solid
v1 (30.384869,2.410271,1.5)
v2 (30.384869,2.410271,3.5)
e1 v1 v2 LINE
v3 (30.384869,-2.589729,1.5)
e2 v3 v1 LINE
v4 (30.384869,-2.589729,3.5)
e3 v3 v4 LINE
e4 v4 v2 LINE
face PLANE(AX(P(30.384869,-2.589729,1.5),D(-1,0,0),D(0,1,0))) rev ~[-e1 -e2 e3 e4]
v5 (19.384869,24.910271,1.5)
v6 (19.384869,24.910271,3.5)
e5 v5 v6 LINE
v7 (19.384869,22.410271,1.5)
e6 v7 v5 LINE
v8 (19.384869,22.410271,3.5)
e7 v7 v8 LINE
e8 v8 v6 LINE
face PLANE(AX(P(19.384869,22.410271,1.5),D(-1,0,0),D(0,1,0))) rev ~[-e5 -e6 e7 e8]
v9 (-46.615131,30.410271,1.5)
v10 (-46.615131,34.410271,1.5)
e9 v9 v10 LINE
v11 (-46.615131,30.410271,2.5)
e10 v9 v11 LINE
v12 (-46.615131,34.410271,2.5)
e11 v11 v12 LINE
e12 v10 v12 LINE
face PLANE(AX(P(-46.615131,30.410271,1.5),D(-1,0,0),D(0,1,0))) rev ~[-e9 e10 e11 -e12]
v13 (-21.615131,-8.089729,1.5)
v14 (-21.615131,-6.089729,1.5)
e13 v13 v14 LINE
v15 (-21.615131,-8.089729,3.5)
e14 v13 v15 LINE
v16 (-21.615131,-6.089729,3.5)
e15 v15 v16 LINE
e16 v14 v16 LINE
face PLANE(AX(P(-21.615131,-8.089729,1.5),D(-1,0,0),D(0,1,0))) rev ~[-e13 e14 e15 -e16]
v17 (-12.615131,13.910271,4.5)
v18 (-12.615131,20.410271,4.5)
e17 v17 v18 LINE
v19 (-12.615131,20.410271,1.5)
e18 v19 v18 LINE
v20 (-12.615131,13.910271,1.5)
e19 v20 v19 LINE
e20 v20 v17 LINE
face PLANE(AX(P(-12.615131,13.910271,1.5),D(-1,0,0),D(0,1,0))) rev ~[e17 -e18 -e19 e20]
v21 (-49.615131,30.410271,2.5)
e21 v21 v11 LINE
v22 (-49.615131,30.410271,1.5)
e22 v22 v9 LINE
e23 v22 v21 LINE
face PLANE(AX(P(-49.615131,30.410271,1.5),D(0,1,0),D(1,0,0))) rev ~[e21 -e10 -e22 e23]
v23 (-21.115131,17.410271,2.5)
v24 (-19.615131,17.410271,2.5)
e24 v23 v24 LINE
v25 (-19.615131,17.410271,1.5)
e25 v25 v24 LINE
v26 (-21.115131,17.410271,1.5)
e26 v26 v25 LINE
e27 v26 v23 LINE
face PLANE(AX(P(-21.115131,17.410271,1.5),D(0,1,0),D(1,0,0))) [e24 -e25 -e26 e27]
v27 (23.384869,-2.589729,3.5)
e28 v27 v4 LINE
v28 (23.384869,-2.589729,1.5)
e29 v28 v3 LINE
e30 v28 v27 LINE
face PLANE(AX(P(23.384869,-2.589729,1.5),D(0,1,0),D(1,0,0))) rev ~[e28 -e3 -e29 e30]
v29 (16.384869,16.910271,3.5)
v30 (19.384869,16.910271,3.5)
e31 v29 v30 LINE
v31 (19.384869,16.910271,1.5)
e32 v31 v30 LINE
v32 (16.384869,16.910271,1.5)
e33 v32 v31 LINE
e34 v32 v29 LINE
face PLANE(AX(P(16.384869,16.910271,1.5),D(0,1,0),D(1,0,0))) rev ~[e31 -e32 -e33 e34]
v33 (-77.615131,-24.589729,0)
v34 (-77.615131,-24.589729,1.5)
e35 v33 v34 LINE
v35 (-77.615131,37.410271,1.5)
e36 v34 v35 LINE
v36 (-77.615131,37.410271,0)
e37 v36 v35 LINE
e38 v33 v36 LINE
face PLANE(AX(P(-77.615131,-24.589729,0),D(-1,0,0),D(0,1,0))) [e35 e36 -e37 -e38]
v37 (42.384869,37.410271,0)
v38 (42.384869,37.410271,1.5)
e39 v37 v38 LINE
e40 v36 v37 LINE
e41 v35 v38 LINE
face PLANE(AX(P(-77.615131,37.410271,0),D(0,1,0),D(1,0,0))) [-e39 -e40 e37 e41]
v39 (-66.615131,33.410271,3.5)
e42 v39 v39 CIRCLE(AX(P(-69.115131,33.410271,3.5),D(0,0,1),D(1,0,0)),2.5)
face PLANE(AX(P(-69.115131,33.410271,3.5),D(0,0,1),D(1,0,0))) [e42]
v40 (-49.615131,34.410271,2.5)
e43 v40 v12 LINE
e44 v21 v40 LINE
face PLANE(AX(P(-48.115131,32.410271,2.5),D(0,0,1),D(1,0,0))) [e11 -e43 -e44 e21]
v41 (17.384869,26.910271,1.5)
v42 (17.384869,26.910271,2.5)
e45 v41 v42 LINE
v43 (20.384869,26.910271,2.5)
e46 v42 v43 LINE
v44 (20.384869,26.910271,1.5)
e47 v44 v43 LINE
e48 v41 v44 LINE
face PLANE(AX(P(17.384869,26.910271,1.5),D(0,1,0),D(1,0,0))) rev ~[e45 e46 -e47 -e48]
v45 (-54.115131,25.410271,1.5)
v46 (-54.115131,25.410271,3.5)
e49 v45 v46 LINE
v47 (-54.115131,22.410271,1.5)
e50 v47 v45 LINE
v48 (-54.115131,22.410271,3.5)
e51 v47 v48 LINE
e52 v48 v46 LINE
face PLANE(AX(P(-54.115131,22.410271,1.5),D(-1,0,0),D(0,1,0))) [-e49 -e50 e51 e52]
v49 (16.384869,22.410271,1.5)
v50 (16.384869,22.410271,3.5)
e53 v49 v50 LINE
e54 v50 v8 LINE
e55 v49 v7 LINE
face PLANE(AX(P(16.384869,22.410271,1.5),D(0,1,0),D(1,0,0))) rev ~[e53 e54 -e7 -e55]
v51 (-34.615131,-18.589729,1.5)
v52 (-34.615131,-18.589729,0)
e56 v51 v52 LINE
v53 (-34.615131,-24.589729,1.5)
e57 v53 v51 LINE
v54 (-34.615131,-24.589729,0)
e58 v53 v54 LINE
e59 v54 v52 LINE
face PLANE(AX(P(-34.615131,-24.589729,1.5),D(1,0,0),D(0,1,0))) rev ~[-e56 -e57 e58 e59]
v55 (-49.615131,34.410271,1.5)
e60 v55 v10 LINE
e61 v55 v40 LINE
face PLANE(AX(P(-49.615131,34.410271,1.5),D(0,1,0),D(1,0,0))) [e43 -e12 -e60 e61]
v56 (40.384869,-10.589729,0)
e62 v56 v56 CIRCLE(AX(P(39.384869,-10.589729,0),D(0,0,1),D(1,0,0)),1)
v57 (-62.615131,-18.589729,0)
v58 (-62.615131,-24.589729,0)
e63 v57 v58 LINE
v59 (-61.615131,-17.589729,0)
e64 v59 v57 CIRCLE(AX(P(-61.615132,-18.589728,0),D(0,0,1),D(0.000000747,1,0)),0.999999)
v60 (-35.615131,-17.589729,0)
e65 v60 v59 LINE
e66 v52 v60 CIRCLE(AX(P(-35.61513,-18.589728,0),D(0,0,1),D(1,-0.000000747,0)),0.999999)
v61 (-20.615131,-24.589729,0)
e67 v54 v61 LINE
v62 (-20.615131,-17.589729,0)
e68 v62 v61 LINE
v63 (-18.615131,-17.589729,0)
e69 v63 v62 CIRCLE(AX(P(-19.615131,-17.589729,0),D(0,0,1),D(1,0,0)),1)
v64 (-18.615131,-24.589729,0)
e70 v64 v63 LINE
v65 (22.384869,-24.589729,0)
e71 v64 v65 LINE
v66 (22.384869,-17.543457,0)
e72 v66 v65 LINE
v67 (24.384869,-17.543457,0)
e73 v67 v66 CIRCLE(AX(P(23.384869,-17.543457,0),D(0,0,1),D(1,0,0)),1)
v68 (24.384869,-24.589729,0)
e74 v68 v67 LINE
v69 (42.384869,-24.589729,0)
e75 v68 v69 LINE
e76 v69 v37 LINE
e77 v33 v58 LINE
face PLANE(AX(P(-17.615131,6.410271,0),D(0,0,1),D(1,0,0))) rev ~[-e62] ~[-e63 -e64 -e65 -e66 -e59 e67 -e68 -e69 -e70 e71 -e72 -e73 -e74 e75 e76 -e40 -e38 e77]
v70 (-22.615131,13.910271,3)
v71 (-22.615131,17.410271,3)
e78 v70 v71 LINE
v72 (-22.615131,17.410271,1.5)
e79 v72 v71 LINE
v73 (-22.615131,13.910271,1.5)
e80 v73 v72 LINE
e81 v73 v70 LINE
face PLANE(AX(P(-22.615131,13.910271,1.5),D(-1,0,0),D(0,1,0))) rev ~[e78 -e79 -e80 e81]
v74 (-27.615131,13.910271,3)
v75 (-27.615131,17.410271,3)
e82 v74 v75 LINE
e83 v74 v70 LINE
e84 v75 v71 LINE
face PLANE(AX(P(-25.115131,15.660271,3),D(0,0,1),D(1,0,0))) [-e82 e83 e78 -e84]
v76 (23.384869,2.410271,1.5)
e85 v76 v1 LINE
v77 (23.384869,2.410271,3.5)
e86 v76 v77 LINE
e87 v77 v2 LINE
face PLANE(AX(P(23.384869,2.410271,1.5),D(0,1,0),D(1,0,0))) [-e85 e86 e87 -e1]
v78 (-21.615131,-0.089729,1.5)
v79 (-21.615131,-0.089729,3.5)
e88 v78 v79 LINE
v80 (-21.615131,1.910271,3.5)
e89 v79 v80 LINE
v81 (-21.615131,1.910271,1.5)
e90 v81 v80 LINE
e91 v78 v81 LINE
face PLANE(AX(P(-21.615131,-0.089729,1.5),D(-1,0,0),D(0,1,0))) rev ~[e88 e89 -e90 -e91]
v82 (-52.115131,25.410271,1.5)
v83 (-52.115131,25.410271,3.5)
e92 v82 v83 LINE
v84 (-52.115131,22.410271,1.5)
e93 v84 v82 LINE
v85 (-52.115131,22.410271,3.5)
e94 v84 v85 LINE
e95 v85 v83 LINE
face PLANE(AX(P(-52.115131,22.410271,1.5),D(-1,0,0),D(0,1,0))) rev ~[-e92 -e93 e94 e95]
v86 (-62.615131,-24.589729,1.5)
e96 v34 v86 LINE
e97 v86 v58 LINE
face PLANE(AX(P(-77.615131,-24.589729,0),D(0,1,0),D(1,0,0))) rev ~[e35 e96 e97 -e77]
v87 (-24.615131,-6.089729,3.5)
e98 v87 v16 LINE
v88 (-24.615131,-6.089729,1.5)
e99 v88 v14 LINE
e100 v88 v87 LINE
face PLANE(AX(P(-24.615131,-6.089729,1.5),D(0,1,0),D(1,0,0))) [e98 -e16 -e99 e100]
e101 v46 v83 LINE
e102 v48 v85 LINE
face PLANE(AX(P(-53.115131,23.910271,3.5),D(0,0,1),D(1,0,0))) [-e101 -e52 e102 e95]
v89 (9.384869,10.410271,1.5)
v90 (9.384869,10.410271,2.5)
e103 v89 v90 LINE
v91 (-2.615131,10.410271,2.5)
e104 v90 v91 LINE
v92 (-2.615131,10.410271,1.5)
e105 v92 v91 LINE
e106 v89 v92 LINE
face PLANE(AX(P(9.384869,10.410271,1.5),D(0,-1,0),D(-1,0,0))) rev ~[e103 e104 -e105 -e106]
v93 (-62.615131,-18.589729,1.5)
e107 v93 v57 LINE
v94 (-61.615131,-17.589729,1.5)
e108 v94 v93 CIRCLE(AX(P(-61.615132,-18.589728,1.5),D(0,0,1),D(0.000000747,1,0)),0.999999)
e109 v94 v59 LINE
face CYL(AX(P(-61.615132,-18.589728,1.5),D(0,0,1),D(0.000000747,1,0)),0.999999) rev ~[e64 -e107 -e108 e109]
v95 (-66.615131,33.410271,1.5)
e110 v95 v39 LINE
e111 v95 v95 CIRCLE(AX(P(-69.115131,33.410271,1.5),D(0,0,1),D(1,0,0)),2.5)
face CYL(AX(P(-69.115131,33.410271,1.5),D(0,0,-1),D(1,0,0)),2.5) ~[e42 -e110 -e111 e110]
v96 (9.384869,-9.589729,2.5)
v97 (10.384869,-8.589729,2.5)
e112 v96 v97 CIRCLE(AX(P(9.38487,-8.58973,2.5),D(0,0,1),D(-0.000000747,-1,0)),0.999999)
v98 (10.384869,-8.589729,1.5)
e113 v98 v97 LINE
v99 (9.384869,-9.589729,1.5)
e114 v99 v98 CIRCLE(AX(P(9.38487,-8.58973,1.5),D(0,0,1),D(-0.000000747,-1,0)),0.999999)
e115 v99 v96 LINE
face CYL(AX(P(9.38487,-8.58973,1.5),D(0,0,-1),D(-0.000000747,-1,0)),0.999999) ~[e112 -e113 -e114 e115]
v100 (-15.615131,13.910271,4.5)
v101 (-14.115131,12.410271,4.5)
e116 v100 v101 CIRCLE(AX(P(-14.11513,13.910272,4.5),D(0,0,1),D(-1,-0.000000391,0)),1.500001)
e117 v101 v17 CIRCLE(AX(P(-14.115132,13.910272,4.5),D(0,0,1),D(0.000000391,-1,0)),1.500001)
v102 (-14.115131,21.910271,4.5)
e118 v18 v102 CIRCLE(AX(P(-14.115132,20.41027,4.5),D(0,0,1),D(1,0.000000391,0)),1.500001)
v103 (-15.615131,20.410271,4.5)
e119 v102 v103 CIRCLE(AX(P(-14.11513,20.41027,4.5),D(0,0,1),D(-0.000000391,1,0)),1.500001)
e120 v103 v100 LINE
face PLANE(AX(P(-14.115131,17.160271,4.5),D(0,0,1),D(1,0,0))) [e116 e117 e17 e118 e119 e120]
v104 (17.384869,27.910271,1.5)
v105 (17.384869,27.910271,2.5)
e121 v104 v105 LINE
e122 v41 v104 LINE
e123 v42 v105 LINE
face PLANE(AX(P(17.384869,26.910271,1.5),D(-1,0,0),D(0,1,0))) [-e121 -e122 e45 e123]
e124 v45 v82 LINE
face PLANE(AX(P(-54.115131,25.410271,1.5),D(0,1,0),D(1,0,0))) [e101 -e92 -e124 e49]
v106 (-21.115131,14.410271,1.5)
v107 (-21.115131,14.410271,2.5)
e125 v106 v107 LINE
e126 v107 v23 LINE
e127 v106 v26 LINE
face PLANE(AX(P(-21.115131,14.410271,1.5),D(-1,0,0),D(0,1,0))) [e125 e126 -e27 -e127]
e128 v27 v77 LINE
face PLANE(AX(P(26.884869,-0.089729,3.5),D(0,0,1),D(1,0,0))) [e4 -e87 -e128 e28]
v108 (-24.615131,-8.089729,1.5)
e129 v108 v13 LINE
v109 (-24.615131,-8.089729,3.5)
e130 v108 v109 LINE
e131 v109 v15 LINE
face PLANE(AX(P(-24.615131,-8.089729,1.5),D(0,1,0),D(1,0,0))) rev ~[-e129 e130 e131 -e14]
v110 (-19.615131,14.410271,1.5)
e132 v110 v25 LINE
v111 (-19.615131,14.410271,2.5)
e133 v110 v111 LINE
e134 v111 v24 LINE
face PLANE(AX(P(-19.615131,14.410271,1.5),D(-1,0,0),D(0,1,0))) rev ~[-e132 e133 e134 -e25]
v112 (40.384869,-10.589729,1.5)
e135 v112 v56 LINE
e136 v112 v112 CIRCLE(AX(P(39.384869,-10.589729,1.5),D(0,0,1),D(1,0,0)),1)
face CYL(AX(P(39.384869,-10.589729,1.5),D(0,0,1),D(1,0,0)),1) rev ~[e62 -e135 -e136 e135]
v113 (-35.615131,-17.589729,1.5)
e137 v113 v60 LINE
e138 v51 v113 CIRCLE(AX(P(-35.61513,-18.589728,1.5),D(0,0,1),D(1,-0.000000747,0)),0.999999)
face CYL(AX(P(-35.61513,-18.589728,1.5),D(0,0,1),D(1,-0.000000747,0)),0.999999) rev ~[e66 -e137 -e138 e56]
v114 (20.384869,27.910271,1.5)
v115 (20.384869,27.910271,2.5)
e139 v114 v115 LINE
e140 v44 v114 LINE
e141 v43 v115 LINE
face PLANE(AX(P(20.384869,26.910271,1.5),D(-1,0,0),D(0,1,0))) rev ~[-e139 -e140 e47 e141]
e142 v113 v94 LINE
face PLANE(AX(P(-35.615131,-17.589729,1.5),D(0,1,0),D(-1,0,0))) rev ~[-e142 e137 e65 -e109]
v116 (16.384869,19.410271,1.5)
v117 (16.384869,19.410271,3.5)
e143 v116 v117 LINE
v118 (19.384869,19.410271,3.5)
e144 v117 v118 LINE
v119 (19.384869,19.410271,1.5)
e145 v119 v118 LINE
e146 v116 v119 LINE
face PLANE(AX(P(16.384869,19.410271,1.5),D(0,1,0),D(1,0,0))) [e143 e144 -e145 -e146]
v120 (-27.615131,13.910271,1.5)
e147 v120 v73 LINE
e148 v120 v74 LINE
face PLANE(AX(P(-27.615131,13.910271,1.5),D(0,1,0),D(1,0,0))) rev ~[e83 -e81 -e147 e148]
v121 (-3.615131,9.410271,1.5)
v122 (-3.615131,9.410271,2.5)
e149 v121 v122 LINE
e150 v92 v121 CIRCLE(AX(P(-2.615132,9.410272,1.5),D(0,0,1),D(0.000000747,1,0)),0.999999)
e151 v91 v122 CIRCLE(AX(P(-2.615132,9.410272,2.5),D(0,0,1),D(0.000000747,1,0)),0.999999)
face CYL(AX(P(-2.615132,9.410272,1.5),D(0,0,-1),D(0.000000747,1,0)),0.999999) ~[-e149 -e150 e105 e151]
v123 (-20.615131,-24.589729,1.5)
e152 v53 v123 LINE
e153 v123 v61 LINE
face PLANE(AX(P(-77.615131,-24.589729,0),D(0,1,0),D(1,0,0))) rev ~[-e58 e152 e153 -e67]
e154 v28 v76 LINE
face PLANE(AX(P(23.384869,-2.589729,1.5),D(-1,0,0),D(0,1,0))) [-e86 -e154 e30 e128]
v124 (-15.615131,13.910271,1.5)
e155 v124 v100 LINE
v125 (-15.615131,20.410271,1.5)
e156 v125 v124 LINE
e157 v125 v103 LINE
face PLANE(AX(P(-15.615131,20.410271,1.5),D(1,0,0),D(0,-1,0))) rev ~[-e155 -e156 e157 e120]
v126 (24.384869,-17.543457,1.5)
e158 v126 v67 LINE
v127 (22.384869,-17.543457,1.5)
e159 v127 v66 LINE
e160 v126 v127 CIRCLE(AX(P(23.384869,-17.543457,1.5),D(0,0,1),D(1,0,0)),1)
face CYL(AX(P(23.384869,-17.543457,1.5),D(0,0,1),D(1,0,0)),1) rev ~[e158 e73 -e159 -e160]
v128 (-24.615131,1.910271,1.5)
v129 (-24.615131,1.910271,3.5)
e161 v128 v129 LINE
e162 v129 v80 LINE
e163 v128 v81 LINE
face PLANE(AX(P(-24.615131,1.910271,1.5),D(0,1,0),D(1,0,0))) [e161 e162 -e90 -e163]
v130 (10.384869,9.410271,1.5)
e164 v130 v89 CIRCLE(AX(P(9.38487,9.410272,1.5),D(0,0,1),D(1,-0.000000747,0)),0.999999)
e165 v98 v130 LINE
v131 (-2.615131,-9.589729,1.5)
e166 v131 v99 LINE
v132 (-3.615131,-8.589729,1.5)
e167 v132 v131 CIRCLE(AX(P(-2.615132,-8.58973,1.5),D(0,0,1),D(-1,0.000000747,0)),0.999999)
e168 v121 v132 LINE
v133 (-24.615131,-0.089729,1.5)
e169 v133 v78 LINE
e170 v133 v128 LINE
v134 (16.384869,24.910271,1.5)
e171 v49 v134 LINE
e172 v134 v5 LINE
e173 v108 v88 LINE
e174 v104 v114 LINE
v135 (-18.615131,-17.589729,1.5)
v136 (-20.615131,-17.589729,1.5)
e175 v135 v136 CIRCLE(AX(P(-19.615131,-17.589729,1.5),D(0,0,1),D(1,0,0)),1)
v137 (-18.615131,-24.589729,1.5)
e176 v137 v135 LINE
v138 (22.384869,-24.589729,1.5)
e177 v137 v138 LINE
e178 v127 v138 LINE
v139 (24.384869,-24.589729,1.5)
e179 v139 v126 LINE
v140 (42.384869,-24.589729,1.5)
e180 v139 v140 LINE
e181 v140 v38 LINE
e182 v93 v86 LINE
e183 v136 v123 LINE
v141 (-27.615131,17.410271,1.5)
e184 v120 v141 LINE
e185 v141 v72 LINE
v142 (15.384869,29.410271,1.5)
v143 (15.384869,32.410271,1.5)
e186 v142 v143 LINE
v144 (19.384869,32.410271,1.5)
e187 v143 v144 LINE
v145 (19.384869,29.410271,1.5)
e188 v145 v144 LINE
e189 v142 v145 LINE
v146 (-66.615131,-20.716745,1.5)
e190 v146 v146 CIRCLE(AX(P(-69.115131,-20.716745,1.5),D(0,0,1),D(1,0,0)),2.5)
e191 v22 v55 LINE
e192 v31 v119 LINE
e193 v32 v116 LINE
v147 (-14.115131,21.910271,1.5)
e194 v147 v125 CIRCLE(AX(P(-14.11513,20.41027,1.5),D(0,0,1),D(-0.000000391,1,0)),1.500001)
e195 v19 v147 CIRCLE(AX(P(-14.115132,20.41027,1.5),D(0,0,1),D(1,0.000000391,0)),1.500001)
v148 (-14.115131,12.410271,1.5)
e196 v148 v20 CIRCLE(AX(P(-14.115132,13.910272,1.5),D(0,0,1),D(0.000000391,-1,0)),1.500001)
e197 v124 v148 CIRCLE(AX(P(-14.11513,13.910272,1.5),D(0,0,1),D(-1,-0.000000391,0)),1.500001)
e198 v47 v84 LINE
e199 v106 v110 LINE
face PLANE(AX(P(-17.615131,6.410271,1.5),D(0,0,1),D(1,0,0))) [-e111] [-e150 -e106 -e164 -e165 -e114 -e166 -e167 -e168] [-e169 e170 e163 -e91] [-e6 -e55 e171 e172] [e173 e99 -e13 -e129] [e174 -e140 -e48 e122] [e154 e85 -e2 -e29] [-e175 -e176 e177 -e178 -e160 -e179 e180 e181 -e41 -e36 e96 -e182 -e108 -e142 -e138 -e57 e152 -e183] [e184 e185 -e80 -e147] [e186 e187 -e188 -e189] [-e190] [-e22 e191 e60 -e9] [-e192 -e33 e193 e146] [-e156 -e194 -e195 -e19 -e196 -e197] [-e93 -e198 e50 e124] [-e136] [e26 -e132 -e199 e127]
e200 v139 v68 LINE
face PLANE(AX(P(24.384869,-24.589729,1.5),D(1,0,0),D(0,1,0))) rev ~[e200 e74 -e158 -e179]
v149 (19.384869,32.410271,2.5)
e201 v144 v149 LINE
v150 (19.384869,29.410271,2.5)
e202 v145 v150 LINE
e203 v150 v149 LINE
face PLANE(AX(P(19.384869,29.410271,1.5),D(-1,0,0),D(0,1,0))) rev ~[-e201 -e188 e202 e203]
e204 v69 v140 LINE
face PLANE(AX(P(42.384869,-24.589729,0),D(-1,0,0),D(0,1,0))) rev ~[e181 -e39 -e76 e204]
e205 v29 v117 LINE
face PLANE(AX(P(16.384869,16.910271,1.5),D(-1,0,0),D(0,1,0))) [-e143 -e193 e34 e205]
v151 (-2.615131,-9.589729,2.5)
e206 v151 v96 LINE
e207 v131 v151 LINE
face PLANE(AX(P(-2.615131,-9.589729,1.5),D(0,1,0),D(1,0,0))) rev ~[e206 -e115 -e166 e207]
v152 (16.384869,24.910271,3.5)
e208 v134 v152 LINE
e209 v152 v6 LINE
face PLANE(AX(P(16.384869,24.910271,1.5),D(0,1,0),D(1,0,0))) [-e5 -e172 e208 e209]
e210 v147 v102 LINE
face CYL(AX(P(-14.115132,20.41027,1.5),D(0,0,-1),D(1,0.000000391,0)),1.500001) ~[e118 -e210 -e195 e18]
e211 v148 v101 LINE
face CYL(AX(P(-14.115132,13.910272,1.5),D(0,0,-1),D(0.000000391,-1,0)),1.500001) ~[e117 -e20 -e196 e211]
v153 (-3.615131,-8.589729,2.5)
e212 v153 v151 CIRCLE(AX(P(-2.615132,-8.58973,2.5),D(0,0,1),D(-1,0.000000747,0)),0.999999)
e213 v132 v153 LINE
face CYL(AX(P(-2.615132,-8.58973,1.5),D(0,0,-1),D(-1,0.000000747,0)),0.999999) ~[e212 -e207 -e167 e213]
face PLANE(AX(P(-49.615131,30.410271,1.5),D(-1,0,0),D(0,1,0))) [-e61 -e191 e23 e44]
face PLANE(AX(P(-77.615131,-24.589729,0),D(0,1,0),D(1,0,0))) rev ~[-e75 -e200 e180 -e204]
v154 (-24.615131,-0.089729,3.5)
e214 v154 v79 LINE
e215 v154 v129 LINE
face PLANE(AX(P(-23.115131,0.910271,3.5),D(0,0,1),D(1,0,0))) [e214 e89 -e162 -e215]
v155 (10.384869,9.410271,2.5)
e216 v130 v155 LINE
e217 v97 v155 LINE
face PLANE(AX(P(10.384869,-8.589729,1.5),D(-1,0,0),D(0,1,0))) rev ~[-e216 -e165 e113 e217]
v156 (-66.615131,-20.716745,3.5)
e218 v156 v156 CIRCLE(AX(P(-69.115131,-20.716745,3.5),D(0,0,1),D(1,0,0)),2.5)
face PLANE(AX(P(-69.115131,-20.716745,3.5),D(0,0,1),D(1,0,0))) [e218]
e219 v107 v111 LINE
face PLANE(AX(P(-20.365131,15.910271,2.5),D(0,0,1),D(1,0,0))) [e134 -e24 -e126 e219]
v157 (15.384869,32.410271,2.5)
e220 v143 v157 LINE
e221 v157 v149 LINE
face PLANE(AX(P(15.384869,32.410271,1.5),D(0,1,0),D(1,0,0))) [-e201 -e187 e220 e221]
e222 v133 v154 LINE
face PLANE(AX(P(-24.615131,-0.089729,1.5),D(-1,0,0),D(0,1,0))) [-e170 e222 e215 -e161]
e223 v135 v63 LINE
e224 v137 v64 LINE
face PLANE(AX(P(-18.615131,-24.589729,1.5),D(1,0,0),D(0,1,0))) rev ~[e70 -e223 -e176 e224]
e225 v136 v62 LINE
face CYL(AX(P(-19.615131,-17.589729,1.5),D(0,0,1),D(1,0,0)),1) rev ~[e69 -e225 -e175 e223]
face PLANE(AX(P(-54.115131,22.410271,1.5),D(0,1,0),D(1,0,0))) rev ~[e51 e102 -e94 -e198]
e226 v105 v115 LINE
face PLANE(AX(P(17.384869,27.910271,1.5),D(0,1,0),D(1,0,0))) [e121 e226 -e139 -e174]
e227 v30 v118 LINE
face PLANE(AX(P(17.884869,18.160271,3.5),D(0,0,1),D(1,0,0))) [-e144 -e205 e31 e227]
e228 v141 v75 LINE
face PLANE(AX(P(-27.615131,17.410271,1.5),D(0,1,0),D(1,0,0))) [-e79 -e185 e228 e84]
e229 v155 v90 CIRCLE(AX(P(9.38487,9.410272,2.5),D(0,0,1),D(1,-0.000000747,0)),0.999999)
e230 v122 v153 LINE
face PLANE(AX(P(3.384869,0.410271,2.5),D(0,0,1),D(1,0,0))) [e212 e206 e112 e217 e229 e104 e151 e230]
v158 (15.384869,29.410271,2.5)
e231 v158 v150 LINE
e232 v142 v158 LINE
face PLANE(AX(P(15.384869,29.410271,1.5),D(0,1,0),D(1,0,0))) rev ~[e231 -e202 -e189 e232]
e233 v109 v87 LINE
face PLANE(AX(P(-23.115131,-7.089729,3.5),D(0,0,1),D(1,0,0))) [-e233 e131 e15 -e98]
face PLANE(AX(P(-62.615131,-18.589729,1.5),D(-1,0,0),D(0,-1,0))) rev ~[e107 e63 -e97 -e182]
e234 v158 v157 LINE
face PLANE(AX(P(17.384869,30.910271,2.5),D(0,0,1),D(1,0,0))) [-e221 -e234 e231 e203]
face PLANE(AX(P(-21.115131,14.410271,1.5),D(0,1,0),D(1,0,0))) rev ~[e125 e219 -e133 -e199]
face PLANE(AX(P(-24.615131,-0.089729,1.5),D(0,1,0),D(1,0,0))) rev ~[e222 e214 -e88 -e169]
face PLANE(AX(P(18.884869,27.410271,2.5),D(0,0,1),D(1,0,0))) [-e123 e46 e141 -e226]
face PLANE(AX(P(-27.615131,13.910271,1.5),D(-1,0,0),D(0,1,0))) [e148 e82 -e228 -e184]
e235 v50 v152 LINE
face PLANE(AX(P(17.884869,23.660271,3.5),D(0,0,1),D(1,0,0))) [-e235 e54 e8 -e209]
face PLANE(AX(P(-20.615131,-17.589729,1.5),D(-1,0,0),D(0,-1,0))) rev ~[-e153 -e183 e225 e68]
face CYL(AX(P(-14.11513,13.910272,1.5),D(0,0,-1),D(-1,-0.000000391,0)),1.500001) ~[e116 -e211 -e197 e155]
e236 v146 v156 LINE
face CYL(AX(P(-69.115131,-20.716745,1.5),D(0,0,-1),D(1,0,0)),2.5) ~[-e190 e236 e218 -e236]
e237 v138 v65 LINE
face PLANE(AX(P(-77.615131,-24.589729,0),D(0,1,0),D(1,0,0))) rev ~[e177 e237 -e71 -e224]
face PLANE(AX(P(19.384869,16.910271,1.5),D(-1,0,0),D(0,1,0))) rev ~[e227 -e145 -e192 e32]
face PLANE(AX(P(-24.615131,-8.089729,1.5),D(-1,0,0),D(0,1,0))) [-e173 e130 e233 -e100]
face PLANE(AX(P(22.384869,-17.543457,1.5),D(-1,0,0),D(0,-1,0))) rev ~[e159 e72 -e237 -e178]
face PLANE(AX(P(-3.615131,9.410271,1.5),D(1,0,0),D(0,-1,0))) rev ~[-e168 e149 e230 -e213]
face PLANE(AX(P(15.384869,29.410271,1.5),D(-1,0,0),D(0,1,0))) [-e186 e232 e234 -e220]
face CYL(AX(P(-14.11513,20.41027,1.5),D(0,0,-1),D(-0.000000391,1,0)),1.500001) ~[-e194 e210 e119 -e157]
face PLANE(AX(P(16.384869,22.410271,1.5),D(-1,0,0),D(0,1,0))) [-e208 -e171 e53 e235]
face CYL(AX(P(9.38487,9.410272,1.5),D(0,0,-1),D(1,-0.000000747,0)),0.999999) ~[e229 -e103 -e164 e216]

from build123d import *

# Parameters (mm, degrees)
F0_W      = 120
F0_H      = 62
F1_DEPTH  = 1.5
F3_DEPTH  = 1.501
F5_DEPTH  = 1.501
F7_DEPTH  = 1.501
F8_R      = 1
F9_DEPTH  = 1.501
F10_W     = 7
F10_H     = 5
F11_DEPTH = 2
F13_DEPTH = 1
F14_W     = 3
F14_H     = 2.5
F15_DEPTH = 2
F16_W     = 3
F16_H     = 2.5
F17_DEPTH = 2
F18_W     = 3
F18_H     = 1
F19_DEPTH = 1
F20_W     = 4
F20_H     = 3
F21_DEPTH = 1
F23_DEPTH = 3
F24_W     = 1.5
F24_H     = 3
F25_DEPTH = 1
F26_W     = 5
F26_H     = 3.5
F27_DEPTH = 1.5
F28_W     = 3
F28_H     = 2
F29_DEPTH = 2
F30_W     = 3
F30_H     = 2
F31_DEPTH = 2
F32_R     = 2.5
F33_DEPTH = 2
F34_R     = 2.5
F35_DEPTH = 2
F36_W     = 3
F36_H     = 4
F37_DEPTH = 1
F38_W     = 2
F38_H     = 3
F39_DEPTH = 2


with BuildPart() as f1:
    # F0 (on Top) → F1 (new body)
    with BuildSketch(Plane.XY):
        with Locations((-17.615131, 6.410271)):
            Rectangle(F0_W, F0_H)
    extrude(amount=F1_DEPTH)

    # F2 (on face) → F3 (cut, through all)
    with BuildSketch(Plane.XY.offset(1.5)):
        with BuildLine():
            Line((-62.615131, -18.589729), (-62.615131, -24.589729))
            Line((-62.615131, -24.589729), (-34.615131, -24.589729))
            Line((-34.615131, -24.589729), (-34.615131, -18.589729))
            ThreePointArc((-34.615131, -18.589729), (-34.908024, -17.882622), (-35.615131, -17.589729))
            Line((-35.615131, -17.589729), (-61.615131, -17.589729))
            ThreePointArc((-61.615131, -17.589729), (-62.322238, -17.882622), (-62.615131, -18.589729))
        make_face()
    extrude(amount=-F3_DEPTH, mode=Mode.SUBTRACT)

    # F4 (on face) → F5 (cut, through all)
    with BuildSketch(Plane.XY.offset(1.5)):
        with BuildLine():
            Line((-20.615131, -17.589729), (-20.615131, -24.589729))
            Line((-20.615131, -24.589729), (-18.615131, -24.589729))
            Line((-18.615131, -24.589729), (-18.615131, -17.589729))
            ThreePointArc((-18.615131, -17.589729), (-19.615131, -16.589729), (-20.615131, -17.589729))
        make_face()
    extrude(amount=-F5_DEPTH, mode=Mode.SUBTRACT)

    # F6 (on face) → F7 (cut, through all)
    with BuildSketch(Plane.XY.offset(1.5)):
        with BuildLine():
            Line((22.384869, -17.543457), (22.384869, -24.589729))
            Line((22.384869, -24.589729), (24.384869, -24.589729))
            Line((24.384869, -24.589729), (24.384869, -17.543457))
            ThreePointArc((24.384869, -17.543457), (23.384869, -16.543457), (22.384869, -17.543457))
        make_face()
    extrude(amount=-F7_DEPTH, mode=Mode.SUBTRACT)

    # F8 (on face) → F9 (cut, through all)
    with BuildSketch(Plane.XY.offset(1.5)):
        with Locations((39.384869, -10.589729)):
            Circle(F8_R)
    extrude(amount=-F9_DEPTH, mode=Mode.SUBTRACT)

    # F10 (on face) → F11 (join)
    with BuildSketch(Plane.XY.offset(1.5)):
        with Locations((26.884869, -0.089729)):
            Rectangle(F10_W, F10_H)
    extrude(amount=F11_DEPTH)

    # F12 (on face) → F13 (join)
    with BuildSketch(Plane.XY.offset(1.5)):
        with BuildLine():
            Line((9.384869, 10.410271), (-2.615131, 10.410271))
            ThreePointArc((-2.615131, 10.410271), (-3.322238, 10.117378), (-3.615131, 9.410271))
            Line((-3.615131, 9.410271), (-3.615131, -8.589729))
            ThreePointArc((-3.615131, -8.589729), (-3.322238, -9.296836), (-2.615131, -9.589729))
            Line((-2.615131, -9.589729), (9.384869, -9.589729))
            ThreePointArc((9.384869, -9.589729), (10.091976, -9.296836), (10.384869, -8.589729))
            Line((10.384869, -8.589729), (10.384869, 9.410271))
            ThreePointArc((10.384869, 9.410271), (10.091976, 10.117378), (9.384869, 10.410271))
        make_face()
    extrude(amount=F13_DEPTH)

    # F14 (on face) → F15 (join)
    with BuildSketch(Plane.XY.offset(1.5)):
        with Locations((17.884869, 18.160271)):
            Rectangle(F14_W, F14_H)
    extrude(amount=F15_DEPTH)

    # F16 (on face) → F17 (join)
    with BuildSketch(Plane.XY.offset(1.5)):
        with Locations((17.884869, 23.660271)):
            Rectangle(F16_W, F16_H)
    extrude(amount=F17_DEPTH)

    # F18 (on face) → F19 (join)
    with BuildSketch(Plane.XY.offset(1.5)):
        with Locations((18.884869, 27.410271)):
            Rectangle(F18_W, F18_H)
    extrude(amount=F19_DEPTH)

    # F20 (on face) → F21 (join)
    with BuildSketch(Plane.XY.offset(1.5)):
        with Locations((17.384869, 30.910271)):
            Rectangle(F20_W, F20_H)
    extrude(amount=F21_DEPTH)

    # F22 (on face) → F23 (join)
    with BuildSketch(Plane.XY.offset(1.5)):
        with BuildLine():
            ThreePointArc((-14.115131, 21.910271), (-15.175791, 21.470931), (-15.615131, 20.410271))
            Line((-15.615131, 20.410271), (-15.615131, 13.910271))
            ThreePointArc((-15.615131, 13.910271), (-15.175791, 12.849611), (-14.115131, 12.410271))
            ThreePointArc((-14.115131, 12.410271), (-13.054471, 12.849611), (-12.615131, 13.910271))
            Line((-12.615131, 13.910271), (-12.615131, 20.410271))
            ThreePointArc((-12.615131, 20.410271), (-13.054471, 21.470931), (-14.115131, 21.910271))
        make_face()
    extrude(amount=F23_DEPTH)

    # F24 (on face) → F25 (join)
    with BuildSketch(Plane.XY.offset(1.5)):
        with Locations((-20.365131, 15.910271)):
            Rectangle(F24_W, F24_H)
    extrude(amount=F25_DEPTH)

    # F26 (on face) → F27 (join)
    with BuildSketch(Plane.XY.offset(1.5)):
        with Locations((-25.115131, 15.660271)):
            Rectangle(F26_W, F26_H)
    extrude(amount=F27_DEPTH)

    # F28 (on face) → F29 (join)
    with BuildSketch(Plane.XY.offset(1.5)):
        with Locations((-23.115131, 0.910271)):
            Rectangle(F28_W, F28_H)
    extrude(amount=F29_DEPTH)

    # F30 (on face) → F31 (join)
    with BuildSketch(Plane.XY.offset(1.5)):
        with Locations((-23.115131, -7.089729)):
            Rectangle(F30_W, F30_H)
    extrude(amount=F31_DEPTH)

    # F32 (on face) → F33 (join)
    with BuildSketch(Plane.XY.offset(1.5)):
        with Locations((-69.115131, 33.410271)):
            Circle(F32_R)
    extrude(amount=F33_DEPTH)

    # F34 (on face) → F35 (join)
    with BuildSketch(Plane.XY.offset(1.5)):
        with Locations((-69.115131, -20.716745)):
            Circle(F34_R)
    extrude(amount=F35_DEPTH)

    # F36 (on face) → F37 (join)
    with BuildSketch(Plane.XY.offset(1.5)):
        with Locations((-48.115131, 32.410271)):
            Rectangle(F36_W, F36_H)
    extrude(amount=F37_DEPTH)

    # F38 (on face) → F39 (join)
    with BuildSketch(Plane.XY.offset(1.5)):
        with Locations((-53.115131, 23.910271)):
            Rectangle(F38_W, F38_H)
    extrude(amount=F39_DEPTH)


solid = f1.part
